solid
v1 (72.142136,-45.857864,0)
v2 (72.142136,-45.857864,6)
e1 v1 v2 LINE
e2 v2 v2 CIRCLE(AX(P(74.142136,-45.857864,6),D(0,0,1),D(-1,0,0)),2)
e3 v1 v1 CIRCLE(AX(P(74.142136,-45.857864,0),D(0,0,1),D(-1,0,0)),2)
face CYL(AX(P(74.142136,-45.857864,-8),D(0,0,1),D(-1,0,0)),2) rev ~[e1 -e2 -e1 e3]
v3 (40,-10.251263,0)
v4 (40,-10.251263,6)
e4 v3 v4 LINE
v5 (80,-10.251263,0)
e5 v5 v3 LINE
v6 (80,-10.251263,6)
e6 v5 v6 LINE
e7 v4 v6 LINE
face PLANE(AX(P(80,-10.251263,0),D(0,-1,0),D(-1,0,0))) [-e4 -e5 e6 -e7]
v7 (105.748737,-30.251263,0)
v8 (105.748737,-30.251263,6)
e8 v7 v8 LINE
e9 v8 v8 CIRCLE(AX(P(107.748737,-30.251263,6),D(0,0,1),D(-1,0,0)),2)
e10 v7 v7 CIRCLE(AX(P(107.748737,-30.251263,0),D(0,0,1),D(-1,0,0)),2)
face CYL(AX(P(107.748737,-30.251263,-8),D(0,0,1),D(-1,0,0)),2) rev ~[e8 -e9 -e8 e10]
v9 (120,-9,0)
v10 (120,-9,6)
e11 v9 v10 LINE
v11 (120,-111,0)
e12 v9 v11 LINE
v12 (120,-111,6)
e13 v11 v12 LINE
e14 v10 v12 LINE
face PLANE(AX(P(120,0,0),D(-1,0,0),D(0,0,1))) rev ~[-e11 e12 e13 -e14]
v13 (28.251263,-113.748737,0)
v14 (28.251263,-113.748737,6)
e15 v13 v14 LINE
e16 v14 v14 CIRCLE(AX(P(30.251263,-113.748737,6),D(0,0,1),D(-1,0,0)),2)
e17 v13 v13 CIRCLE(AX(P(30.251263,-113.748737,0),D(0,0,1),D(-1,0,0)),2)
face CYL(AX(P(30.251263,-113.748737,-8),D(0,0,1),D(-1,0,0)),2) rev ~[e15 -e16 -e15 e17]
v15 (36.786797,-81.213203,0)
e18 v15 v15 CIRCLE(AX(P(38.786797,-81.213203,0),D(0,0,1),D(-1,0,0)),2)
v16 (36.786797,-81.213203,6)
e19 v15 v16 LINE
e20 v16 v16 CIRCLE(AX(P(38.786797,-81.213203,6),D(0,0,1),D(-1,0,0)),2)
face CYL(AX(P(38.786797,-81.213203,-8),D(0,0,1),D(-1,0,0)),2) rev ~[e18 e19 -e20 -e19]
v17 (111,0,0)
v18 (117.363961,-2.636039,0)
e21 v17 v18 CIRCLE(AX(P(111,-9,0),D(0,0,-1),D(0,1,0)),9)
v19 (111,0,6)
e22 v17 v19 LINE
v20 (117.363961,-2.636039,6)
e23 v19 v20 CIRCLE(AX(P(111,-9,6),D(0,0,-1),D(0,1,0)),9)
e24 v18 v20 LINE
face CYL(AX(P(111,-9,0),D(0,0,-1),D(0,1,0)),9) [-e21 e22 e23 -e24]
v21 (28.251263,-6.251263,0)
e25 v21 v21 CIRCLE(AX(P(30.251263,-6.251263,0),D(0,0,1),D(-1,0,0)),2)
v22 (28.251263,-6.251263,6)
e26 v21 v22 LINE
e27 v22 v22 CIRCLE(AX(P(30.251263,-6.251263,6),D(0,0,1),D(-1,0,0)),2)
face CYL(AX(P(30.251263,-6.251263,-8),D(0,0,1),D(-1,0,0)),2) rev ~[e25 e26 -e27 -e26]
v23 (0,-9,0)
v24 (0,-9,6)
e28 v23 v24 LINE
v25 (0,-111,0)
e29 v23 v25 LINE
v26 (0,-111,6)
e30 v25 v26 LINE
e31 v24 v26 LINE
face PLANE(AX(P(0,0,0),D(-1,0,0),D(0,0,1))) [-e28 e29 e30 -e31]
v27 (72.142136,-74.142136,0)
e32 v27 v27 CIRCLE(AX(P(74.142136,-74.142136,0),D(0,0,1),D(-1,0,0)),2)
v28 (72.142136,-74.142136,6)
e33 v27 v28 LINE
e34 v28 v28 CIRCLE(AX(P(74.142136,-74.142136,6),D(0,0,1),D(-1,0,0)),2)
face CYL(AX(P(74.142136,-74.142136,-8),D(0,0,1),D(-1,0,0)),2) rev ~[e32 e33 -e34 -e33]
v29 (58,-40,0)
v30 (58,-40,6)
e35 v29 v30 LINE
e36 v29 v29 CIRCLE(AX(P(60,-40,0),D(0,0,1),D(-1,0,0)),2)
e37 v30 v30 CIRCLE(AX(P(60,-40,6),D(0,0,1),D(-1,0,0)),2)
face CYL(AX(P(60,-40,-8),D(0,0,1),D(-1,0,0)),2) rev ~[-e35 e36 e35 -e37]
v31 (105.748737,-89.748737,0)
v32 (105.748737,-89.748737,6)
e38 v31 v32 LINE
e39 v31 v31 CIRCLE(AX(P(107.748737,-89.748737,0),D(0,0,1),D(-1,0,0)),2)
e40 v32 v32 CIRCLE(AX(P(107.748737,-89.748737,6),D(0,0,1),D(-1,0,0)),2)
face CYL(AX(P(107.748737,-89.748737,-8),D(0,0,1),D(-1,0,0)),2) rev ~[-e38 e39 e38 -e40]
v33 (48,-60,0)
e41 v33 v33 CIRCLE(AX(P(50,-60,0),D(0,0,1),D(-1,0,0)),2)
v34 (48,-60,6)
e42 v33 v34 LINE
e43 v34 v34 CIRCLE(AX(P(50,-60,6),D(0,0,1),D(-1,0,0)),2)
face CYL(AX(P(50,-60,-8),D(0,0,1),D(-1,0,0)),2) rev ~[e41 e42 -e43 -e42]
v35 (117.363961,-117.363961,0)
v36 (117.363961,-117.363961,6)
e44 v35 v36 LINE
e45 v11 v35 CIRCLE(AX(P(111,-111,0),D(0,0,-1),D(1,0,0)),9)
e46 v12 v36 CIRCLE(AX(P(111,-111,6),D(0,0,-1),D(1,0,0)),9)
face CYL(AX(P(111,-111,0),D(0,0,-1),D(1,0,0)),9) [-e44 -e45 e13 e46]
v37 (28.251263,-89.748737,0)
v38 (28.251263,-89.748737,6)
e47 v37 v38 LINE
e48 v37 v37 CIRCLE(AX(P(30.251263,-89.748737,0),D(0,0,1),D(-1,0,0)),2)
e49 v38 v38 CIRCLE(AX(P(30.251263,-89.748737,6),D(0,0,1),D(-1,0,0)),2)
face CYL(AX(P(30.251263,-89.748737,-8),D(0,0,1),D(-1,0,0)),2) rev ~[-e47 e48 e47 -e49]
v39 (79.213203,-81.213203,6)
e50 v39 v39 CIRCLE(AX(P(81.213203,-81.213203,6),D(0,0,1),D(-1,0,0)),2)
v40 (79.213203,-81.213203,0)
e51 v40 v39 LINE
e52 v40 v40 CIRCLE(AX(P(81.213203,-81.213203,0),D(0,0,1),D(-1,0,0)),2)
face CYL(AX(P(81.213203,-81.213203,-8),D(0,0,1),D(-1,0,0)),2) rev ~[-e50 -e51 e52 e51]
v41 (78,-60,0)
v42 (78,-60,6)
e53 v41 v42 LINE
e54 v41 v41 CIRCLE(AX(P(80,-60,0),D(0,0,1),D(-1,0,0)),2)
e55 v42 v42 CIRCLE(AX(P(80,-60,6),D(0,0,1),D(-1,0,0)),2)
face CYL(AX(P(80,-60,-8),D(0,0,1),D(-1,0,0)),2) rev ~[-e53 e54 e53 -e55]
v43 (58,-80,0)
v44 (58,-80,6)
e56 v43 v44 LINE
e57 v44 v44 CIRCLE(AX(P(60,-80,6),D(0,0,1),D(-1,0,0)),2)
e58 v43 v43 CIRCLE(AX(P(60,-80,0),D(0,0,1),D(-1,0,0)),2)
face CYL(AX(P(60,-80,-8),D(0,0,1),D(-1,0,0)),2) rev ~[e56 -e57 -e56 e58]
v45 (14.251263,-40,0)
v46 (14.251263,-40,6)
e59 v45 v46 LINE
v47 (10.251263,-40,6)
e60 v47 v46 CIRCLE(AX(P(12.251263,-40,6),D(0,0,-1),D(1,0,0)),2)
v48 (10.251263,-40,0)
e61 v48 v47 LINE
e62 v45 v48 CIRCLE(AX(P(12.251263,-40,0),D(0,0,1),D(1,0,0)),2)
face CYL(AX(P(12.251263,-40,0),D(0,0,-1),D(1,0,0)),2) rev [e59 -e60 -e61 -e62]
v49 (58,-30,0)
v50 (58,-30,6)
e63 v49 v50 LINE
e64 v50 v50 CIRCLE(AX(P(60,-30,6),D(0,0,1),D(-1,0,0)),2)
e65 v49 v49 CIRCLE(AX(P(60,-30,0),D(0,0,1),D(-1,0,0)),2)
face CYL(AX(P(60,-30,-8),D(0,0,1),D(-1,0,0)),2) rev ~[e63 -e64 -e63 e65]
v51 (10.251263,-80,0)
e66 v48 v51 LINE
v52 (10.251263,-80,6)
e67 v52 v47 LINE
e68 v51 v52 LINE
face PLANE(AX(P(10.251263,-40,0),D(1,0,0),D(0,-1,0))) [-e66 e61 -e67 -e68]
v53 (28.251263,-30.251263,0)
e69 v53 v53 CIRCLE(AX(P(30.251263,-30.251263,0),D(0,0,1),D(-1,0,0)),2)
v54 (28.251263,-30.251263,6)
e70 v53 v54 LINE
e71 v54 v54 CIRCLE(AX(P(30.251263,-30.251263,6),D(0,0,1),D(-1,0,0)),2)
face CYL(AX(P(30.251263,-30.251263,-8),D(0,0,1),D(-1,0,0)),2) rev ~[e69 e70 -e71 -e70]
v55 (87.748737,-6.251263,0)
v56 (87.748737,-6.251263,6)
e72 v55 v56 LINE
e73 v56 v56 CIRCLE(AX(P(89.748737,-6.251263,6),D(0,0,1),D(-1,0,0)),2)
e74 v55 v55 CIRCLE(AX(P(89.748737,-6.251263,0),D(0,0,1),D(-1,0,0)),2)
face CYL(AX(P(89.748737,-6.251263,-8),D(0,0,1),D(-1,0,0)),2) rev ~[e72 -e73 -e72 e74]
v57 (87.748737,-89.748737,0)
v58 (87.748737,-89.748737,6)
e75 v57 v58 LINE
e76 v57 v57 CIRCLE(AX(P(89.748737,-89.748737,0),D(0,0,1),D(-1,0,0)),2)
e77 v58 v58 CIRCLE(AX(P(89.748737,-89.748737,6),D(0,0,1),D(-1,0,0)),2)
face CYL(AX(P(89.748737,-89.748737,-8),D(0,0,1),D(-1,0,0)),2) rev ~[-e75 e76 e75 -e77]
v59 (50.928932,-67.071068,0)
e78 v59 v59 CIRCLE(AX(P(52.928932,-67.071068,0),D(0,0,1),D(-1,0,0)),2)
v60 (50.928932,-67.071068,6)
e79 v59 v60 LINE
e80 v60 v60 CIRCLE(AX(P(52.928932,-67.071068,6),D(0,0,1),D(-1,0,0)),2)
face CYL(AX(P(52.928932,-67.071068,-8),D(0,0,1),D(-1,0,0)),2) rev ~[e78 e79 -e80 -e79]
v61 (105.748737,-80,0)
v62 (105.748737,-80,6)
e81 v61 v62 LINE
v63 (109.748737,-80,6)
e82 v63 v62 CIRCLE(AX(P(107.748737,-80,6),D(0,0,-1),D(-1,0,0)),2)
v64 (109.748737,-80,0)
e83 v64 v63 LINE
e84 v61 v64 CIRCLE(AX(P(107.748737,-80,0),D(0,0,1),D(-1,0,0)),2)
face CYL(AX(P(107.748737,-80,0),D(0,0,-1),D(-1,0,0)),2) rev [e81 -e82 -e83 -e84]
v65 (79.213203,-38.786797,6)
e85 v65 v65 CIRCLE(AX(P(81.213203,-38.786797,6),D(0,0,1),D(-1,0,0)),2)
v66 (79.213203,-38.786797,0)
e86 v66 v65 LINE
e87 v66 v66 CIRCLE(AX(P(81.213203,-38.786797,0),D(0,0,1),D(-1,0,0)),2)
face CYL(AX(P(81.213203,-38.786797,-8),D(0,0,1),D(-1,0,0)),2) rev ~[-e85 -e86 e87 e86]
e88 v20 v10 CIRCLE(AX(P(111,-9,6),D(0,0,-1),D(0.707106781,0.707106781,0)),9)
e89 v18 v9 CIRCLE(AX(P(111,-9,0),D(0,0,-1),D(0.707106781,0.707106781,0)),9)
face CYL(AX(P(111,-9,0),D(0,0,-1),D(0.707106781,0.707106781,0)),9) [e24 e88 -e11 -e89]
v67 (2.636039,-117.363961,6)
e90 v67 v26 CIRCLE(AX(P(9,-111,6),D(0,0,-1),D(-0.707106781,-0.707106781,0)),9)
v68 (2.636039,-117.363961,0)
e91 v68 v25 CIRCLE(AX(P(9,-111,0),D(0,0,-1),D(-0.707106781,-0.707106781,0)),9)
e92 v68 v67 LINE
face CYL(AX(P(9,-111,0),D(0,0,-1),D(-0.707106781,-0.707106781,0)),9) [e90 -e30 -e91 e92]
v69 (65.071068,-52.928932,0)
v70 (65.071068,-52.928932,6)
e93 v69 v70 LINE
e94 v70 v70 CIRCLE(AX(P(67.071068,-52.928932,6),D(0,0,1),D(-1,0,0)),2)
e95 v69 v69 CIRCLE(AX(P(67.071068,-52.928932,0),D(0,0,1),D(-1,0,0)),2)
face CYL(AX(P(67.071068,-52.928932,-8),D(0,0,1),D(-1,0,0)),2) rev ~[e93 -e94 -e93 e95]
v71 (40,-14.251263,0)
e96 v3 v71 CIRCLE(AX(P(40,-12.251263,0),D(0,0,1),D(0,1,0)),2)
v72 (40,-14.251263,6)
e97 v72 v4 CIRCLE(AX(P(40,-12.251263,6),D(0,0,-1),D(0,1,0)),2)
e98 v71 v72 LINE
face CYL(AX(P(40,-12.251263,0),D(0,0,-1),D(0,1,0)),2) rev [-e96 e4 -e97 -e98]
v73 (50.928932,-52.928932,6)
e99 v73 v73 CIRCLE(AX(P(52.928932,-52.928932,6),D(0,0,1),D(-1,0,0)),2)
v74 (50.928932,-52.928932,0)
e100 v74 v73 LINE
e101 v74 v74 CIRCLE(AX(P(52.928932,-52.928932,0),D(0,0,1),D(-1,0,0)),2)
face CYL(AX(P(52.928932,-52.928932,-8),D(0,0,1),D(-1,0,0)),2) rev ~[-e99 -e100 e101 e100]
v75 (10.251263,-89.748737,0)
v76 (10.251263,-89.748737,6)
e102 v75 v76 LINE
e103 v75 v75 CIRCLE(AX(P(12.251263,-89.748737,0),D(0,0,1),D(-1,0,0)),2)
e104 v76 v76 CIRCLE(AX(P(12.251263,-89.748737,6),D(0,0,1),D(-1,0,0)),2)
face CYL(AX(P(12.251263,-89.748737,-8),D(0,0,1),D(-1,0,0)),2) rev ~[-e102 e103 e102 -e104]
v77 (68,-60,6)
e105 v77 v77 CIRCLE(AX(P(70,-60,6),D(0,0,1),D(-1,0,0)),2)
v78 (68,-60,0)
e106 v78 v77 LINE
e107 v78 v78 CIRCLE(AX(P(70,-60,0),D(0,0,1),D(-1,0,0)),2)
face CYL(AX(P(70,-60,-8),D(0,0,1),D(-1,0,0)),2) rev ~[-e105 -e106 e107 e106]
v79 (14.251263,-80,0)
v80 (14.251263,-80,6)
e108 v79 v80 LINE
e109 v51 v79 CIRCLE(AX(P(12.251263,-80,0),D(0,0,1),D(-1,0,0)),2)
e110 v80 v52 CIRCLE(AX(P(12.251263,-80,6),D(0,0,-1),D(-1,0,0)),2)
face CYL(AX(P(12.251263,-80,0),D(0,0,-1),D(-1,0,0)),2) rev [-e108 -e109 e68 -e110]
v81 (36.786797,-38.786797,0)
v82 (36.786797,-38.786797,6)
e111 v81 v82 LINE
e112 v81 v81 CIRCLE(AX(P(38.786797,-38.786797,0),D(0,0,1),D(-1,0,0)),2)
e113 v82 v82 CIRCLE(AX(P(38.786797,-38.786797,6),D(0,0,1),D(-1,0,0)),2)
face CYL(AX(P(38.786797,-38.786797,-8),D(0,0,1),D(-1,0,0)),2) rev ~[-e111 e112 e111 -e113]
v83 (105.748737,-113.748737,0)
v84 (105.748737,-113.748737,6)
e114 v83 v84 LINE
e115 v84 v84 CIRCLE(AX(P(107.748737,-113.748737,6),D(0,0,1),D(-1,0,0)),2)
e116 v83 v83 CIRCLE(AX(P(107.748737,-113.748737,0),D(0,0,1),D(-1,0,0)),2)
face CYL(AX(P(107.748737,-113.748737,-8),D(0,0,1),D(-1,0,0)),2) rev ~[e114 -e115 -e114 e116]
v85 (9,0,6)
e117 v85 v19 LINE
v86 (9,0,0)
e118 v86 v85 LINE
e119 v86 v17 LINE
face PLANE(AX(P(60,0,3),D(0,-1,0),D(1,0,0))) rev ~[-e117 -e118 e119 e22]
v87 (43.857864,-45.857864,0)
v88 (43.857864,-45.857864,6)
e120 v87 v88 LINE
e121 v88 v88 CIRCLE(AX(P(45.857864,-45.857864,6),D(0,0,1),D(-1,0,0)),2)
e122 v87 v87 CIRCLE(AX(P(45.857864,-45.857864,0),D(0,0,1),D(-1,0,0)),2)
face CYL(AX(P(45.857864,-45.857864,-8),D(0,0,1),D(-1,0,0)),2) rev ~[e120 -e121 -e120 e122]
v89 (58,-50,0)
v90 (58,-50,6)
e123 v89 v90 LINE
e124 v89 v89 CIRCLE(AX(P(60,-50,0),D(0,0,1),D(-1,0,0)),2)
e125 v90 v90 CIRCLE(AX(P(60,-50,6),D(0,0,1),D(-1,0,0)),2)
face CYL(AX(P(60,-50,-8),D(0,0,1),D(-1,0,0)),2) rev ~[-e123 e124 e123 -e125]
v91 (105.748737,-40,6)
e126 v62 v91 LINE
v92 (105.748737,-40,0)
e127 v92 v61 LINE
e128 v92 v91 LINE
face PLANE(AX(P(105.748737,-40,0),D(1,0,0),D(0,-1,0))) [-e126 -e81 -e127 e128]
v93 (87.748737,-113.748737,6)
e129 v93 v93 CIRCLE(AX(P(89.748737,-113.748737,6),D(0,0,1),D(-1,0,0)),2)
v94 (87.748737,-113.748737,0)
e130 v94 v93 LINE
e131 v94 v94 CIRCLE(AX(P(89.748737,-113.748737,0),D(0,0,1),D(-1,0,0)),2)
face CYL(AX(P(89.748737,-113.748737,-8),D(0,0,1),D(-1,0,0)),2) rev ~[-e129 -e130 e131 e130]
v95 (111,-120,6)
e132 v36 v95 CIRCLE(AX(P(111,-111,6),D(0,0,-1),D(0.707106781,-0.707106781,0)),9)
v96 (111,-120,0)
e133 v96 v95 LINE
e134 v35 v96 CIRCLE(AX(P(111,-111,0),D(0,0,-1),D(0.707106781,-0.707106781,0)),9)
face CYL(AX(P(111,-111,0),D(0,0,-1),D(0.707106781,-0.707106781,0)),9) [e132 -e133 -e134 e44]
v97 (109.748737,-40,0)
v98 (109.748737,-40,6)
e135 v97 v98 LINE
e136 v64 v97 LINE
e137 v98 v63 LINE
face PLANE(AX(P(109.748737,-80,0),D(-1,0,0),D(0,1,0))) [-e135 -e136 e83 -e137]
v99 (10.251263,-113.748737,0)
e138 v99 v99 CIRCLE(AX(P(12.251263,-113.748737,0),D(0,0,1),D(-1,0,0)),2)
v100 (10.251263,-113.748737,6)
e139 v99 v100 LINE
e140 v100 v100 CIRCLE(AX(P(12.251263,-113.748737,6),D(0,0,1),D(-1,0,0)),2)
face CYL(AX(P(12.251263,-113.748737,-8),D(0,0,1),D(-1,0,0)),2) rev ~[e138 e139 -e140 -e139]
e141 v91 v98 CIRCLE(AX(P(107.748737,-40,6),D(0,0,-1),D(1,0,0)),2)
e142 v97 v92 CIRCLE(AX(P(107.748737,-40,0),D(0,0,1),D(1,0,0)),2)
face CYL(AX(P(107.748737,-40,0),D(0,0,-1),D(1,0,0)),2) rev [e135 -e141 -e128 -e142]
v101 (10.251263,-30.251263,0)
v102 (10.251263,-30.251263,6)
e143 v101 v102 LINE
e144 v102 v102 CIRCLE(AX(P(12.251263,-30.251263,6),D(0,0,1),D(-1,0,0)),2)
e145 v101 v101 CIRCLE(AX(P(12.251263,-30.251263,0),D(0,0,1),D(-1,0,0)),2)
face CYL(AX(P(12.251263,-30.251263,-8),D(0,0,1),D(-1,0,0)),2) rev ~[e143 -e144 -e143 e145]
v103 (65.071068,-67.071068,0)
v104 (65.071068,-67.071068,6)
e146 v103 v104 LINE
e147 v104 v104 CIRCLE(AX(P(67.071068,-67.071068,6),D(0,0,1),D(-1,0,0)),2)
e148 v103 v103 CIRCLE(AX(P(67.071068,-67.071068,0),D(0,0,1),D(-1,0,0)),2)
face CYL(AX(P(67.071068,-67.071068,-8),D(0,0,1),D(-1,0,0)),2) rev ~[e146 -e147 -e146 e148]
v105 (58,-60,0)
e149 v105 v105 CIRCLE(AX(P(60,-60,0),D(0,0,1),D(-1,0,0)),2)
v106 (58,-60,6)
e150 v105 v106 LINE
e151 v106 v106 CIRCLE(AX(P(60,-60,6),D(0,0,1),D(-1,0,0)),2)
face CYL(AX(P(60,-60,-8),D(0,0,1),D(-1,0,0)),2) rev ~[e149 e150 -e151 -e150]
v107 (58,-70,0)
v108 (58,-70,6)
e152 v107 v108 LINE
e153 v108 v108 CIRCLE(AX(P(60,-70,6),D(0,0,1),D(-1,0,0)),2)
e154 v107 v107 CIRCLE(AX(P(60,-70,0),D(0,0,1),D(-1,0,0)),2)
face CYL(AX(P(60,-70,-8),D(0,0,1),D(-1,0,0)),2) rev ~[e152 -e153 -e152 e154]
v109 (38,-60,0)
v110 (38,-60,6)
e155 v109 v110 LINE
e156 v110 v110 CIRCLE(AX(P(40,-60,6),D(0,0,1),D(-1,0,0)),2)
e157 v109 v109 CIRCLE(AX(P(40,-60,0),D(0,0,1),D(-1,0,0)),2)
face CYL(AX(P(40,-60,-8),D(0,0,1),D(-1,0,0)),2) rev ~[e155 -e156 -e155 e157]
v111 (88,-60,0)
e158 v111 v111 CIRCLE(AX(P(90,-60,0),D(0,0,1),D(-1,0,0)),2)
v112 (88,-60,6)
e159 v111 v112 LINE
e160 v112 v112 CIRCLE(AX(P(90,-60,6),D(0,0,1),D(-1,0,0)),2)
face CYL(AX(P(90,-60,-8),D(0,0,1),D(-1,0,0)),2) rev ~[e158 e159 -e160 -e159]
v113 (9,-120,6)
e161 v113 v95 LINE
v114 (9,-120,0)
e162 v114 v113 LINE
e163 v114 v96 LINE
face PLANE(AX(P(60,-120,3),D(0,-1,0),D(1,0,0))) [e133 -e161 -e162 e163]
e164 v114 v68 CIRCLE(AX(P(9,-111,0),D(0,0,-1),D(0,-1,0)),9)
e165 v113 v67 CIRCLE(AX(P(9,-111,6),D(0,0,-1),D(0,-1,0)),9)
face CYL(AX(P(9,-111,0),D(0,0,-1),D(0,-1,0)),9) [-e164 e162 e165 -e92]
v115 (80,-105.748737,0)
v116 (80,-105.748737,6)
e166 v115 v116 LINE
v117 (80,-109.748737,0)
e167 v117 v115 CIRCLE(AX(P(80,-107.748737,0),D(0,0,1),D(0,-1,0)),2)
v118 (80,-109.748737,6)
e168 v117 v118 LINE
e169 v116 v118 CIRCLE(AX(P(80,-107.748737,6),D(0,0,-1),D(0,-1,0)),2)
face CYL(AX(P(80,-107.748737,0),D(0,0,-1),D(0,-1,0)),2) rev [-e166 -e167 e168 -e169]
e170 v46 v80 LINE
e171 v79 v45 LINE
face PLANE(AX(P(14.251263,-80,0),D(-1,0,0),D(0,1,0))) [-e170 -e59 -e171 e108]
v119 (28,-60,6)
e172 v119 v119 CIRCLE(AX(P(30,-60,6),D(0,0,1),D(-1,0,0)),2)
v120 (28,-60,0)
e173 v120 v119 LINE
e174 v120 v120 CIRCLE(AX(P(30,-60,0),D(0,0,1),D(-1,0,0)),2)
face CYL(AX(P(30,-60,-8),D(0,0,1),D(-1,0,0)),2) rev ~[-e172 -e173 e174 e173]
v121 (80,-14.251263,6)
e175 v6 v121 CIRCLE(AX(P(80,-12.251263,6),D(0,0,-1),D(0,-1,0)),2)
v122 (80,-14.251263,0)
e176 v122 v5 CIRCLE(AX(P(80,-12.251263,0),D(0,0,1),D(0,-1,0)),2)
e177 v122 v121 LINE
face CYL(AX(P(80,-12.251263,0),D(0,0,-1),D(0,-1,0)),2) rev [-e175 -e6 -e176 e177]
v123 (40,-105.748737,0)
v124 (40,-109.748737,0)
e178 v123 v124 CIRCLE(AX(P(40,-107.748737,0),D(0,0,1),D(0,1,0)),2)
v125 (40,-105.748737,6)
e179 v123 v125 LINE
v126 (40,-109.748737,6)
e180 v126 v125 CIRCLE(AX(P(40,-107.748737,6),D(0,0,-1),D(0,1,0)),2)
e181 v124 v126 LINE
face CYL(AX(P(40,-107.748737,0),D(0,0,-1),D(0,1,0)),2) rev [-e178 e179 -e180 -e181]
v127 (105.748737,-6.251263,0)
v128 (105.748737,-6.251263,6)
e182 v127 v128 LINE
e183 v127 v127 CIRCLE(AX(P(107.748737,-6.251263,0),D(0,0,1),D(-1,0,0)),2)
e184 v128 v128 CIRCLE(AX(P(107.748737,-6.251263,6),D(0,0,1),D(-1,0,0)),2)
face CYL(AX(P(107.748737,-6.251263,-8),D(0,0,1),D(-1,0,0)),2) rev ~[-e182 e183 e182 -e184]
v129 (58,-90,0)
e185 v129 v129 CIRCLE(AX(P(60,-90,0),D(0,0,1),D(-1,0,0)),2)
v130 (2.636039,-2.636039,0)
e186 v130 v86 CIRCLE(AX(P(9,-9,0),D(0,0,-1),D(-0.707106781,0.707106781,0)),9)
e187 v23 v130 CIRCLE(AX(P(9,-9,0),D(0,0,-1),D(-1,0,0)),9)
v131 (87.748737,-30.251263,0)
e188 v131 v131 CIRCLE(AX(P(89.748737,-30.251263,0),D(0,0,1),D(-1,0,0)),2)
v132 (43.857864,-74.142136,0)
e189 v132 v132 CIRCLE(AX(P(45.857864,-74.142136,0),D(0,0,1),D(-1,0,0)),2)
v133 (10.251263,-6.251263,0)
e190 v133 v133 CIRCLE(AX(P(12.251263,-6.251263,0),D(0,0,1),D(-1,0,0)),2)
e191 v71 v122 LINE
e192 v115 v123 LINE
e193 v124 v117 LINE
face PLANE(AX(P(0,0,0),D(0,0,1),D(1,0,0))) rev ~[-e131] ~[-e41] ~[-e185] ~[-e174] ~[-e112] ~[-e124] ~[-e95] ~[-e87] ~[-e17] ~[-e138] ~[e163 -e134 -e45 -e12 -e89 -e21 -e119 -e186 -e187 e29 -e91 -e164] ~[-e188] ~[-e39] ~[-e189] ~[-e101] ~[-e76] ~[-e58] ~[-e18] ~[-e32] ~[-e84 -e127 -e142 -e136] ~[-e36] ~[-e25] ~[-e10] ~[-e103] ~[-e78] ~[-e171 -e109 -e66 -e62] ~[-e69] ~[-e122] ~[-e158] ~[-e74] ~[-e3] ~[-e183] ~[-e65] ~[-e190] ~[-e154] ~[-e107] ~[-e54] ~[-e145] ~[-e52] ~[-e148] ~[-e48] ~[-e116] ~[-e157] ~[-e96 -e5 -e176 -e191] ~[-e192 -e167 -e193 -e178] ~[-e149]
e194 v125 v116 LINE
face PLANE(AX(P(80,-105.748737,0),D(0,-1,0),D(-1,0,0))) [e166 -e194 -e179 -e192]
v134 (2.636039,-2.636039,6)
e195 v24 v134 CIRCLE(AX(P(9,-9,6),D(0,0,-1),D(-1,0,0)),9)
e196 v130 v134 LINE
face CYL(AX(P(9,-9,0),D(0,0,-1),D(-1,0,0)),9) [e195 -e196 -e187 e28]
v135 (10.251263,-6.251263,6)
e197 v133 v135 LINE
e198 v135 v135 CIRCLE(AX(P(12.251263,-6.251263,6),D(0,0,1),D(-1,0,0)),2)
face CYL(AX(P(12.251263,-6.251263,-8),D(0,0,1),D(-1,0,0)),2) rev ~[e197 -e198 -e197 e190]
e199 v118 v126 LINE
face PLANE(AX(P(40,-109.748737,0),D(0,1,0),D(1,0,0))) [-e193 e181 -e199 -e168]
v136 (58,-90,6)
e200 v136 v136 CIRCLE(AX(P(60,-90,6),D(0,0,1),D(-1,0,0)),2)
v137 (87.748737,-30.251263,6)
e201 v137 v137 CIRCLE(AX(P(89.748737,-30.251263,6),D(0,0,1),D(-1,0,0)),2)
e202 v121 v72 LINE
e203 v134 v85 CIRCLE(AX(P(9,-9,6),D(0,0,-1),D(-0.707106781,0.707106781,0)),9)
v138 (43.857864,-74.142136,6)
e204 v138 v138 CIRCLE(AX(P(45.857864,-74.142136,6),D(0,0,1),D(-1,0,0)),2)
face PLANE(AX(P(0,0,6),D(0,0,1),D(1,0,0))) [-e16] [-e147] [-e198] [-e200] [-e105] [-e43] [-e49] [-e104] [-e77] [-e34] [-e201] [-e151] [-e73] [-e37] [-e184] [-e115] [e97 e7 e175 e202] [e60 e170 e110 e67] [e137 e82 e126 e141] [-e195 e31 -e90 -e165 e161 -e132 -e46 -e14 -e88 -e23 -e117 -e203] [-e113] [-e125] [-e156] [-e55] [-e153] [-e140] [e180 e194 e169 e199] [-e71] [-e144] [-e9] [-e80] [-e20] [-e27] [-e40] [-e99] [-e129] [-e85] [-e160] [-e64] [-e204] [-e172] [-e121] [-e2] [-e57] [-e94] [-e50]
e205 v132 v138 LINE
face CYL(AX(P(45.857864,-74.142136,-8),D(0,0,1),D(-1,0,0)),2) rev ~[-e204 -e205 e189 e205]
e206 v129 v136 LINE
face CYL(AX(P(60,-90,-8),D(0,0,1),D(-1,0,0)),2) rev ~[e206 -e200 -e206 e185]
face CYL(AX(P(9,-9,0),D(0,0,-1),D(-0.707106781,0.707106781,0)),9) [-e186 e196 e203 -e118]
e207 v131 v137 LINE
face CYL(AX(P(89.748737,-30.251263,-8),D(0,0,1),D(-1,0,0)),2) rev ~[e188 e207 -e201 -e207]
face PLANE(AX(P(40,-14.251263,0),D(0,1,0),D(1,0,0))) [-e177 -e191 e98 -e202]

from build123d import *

# Parameters (mm, degrees)
F0_W     = 120
F0_H     = 6
F1_DEPTH = 120
F3_D     = 4
F3_DEPTH = 8
F3_TIP   = 1.2017212381
F4_DEPTH = 8
F5_DEPTH = 6


with BuildPart() as f1:
    # F0 (on Front) → F1 (new body)
    with BuildSketch(Plane.XZ):
        with Locations((60, 3)):
            Rectangle(F0_W, F0_H)
    extrude(amount=F1_DEPTH)

    # F3
    with Locations(Plane(origin=(0, 0, 0), x_dir=(1, 0, 0), z_dir=(0, 0, -1))):
        with Locations((12.2512626585, 113.7487373415), (12.2512626585, 89.7487373415), (30.2512626585, 89.7487373415), (30.2512626585, 113.7487373415), (89.7487373415, 113.7487373415), (89.7487373415, 89.7487373415), (107.7487373415, 89.7487373415), (107.7487373415, 113.7487373415), (107.7487373415, 30.2512626585), (89.7487373415, 30.2512626585), (89.7487373415, 6.2512626585), (107.7487373415, 6.2512626585), (30.2512626585, 6.2512626585), (12.2512626585, 30.2512626585), (30.2512626585, 30.2512626585), (12.2512626585, 6.2512626585), (38.7867965644, 38.7867965644), (45.8578643763, 45.8578643763), (30, 60), (40, 60), (45.8578643763, 74.1421356237), (38.7867965644, 81.2132034356), (60, 80), (60, 90), (81.2132034356, 81.2132034356), (74.1421356237, 74.1421356237), (80, 60), (90, 60), (81.2132034356, 38.7867965644), (74.1421356237, 45.8578643763), (60, 40), (60, 30), (52.9289321881, 67.0710678119), (60, 60), (50, 60), (52.9289321881, 52.9289321881), (60, 50), (67.0710678119, 52.9289321881), (70, 60), (67.0710678119, 67.0710678119), (60, 70)):
            Hole(F3_D / 2, depth=F3_DEPTH)
            with Locations((0, 0, -(F3_DEPTH + F3_TIP / 2))):  # 118° drill point
                Cone(0, F3_D / 2, F3_TIP, mode=Mode.SUBTRACT)

    # F2 (on Top) → F4 (cut)
    with BuildSketch(Plane.XY):
        with BuildLine():
            Line((10.2512626585, -40), (10.2512626585, -60))
            Line((10.2512626585, -60), (14.2512626585, -60))
            Line((14.2512626585, -60), (14.2512626585, -40))
            ThreePointArc((14.2512626585, -40), (12.2512626585, -38), (10.2512626585, -40))
        make_face()
        with BuildLine():
            Line((14.2512626585, -60), (10.2512626585, -60))
            Line((10.2512626585, -60), (10.2512626585, -80))
            ThreePointArc((10.2512626585, -80), (12.2512626585, -82), (14.2512626585, -80))
            Line((14.2512626585, -80), (14.2512626585, -60))
        make_face()
        with BuildLine():
            Line((60, -109.7487373415), (60, -105.7487373415))
            Line((60, -105.7487373415), (40, -105.7487373415))
            ThreePointArc((40, -105.7487373415), (38, -107.7487373415), (40, -109.7487373415))
            Line((40, -109.7487373415), (60, -109.7487373415))
        make_face()
        with BuildLine():
            Line((80, -105.7487373415), (60, -105.7487373415))
            Line((60, -105.7487373415), (60, -109.7487373415))
            Line((60, -109.7487373415), (80, -109.7487373415))
            ThreePointArc((80, -109.7487373415), (82, -107.7487373415), (80, -105.7487373415))
        make_face()
        with BuildLine():
            Line((105.7487373415, -40), (105.7487373415, -60))
            Line((105.7487373415, -60), (109.7487373415, -60))
            Line((109.7487373415, -60), (109.7487373415, -40))
            ThreePointArc((109.7487373415, -40), (107.7487373415, -38), (105.7487373415, -40))
        make_face()
        with BuildLine():
            Line((109.7487373415, -60), (105.7487373415, -60))
            Line((105.7487373415, -60), (105.7487373415, -80))
            ThreePointArc((105.7487373415, -80), (107.7487373415, -82), (109.7487373415, -80))
            Line((109.7487373415, -80), (109.7487373415, -60))
        make_face()
        with BuildLine():
            Line((40, -14.2512626585), (60, -14.2512626585))
            Line((60, -14.2512626585), (60, -10.2512626585))
            Line((60, -10.2512626585), (40, -10.2512626585))
            ThreePointArc((40, -10.2512626585), (38, -12.2512626585), (40, -14.2512626585))
        make_face()
        with BuildLine():
            Line((60, -10.2512626585), (60, -14.2512626585))
            Line((60, -14.2512626585), (80, -14.2512626585))
            ThreePointArc((80, -14.2512626585), (82, -12.2512626585), (80, -10.2512626585))
            Line((80, -10.2512626585), (60, -10.2512626585))
        make_face()
    extrude(amount=F4_DEPTH, mode=Mode.SUBTRACT)

    # F2 (on Top) → F5 (cut)
    with BuildSketch(Plane.XY):
        with BuildLine():
            Line((120, -120), (120, -111))
            ThreePointArc((120, -111), (119.3149157926, -114.4441508913), (117.3639610307, -117.3639610307))
            Line((117.3639610307, -117.3639610307), (120, -120))
        make_face()
        with BuildLine():
            ThreePointArc((117.3639610307, -117.3639610307), (114.4441508913, -119.3149157926), (111, -120))
            Line((111, -120), (120, -120))
            Line((120, -120), (117.3639610307, -117.3639610307))
        make_face()
        with BuildLine():
            Line((2.6360389693, -117.3639610307), (0, -120))
            Line((0, -120), (9, -120))
            ThreePointArc((9, -120), (5.5558491087, -119.3149157926), (2.6360389693, -117.3639610307))
        make_face()
        with BuildLine():
            ThreePointArc((2.6360389693, -117.3639610307), (0.6850842074, -114.4441508913), (0, -111))
            Line((0, -111), (0, -120))
            Line((0, -120), (2.6360389693, -117.3639610307))
        make_face()
        with BuildLine():
            ThreePointArc((117.3639610307, -2.6360389693), (119.3149157926, -5.5558491087), (120, -9))
            Line((120, -9), (120, 0))
            Line((120, 0), (117.3639610307, -2.6360389693))
        make_face()
        with BuildLine():
            Line((120, 0), (111, 0))
            ThreePointArc((111, 0), (114.4441508913, -0.6850842074), (117.3639610307, -2.6360389693))
            Line((117.3639610307, -2.6360389693), (120, 0))
        make_face()
        with BuildLine():
            Line((0, 0), (0, -9))
            ThreePointArc((0, -9), (0.6850842074, -5.5558491087), (2.6360389693, -2.6360389693))
            Line((2.6360389693, -2.6360389693), (0, 0))
        make_face()
        with BuildLine():
            Line((9, 0), (0, 0))
            Line((0, 0), (2.6360389693, -2.6360389693))
            ThreePointArc((2.6360389693, -2.6360389693), (5.5558491087, -0.6850842074), (9, 0))
        make_face()
    extrude(amount=F5_DEPTH, mode=Mode.SUBTRACT)


solid = f1.part
